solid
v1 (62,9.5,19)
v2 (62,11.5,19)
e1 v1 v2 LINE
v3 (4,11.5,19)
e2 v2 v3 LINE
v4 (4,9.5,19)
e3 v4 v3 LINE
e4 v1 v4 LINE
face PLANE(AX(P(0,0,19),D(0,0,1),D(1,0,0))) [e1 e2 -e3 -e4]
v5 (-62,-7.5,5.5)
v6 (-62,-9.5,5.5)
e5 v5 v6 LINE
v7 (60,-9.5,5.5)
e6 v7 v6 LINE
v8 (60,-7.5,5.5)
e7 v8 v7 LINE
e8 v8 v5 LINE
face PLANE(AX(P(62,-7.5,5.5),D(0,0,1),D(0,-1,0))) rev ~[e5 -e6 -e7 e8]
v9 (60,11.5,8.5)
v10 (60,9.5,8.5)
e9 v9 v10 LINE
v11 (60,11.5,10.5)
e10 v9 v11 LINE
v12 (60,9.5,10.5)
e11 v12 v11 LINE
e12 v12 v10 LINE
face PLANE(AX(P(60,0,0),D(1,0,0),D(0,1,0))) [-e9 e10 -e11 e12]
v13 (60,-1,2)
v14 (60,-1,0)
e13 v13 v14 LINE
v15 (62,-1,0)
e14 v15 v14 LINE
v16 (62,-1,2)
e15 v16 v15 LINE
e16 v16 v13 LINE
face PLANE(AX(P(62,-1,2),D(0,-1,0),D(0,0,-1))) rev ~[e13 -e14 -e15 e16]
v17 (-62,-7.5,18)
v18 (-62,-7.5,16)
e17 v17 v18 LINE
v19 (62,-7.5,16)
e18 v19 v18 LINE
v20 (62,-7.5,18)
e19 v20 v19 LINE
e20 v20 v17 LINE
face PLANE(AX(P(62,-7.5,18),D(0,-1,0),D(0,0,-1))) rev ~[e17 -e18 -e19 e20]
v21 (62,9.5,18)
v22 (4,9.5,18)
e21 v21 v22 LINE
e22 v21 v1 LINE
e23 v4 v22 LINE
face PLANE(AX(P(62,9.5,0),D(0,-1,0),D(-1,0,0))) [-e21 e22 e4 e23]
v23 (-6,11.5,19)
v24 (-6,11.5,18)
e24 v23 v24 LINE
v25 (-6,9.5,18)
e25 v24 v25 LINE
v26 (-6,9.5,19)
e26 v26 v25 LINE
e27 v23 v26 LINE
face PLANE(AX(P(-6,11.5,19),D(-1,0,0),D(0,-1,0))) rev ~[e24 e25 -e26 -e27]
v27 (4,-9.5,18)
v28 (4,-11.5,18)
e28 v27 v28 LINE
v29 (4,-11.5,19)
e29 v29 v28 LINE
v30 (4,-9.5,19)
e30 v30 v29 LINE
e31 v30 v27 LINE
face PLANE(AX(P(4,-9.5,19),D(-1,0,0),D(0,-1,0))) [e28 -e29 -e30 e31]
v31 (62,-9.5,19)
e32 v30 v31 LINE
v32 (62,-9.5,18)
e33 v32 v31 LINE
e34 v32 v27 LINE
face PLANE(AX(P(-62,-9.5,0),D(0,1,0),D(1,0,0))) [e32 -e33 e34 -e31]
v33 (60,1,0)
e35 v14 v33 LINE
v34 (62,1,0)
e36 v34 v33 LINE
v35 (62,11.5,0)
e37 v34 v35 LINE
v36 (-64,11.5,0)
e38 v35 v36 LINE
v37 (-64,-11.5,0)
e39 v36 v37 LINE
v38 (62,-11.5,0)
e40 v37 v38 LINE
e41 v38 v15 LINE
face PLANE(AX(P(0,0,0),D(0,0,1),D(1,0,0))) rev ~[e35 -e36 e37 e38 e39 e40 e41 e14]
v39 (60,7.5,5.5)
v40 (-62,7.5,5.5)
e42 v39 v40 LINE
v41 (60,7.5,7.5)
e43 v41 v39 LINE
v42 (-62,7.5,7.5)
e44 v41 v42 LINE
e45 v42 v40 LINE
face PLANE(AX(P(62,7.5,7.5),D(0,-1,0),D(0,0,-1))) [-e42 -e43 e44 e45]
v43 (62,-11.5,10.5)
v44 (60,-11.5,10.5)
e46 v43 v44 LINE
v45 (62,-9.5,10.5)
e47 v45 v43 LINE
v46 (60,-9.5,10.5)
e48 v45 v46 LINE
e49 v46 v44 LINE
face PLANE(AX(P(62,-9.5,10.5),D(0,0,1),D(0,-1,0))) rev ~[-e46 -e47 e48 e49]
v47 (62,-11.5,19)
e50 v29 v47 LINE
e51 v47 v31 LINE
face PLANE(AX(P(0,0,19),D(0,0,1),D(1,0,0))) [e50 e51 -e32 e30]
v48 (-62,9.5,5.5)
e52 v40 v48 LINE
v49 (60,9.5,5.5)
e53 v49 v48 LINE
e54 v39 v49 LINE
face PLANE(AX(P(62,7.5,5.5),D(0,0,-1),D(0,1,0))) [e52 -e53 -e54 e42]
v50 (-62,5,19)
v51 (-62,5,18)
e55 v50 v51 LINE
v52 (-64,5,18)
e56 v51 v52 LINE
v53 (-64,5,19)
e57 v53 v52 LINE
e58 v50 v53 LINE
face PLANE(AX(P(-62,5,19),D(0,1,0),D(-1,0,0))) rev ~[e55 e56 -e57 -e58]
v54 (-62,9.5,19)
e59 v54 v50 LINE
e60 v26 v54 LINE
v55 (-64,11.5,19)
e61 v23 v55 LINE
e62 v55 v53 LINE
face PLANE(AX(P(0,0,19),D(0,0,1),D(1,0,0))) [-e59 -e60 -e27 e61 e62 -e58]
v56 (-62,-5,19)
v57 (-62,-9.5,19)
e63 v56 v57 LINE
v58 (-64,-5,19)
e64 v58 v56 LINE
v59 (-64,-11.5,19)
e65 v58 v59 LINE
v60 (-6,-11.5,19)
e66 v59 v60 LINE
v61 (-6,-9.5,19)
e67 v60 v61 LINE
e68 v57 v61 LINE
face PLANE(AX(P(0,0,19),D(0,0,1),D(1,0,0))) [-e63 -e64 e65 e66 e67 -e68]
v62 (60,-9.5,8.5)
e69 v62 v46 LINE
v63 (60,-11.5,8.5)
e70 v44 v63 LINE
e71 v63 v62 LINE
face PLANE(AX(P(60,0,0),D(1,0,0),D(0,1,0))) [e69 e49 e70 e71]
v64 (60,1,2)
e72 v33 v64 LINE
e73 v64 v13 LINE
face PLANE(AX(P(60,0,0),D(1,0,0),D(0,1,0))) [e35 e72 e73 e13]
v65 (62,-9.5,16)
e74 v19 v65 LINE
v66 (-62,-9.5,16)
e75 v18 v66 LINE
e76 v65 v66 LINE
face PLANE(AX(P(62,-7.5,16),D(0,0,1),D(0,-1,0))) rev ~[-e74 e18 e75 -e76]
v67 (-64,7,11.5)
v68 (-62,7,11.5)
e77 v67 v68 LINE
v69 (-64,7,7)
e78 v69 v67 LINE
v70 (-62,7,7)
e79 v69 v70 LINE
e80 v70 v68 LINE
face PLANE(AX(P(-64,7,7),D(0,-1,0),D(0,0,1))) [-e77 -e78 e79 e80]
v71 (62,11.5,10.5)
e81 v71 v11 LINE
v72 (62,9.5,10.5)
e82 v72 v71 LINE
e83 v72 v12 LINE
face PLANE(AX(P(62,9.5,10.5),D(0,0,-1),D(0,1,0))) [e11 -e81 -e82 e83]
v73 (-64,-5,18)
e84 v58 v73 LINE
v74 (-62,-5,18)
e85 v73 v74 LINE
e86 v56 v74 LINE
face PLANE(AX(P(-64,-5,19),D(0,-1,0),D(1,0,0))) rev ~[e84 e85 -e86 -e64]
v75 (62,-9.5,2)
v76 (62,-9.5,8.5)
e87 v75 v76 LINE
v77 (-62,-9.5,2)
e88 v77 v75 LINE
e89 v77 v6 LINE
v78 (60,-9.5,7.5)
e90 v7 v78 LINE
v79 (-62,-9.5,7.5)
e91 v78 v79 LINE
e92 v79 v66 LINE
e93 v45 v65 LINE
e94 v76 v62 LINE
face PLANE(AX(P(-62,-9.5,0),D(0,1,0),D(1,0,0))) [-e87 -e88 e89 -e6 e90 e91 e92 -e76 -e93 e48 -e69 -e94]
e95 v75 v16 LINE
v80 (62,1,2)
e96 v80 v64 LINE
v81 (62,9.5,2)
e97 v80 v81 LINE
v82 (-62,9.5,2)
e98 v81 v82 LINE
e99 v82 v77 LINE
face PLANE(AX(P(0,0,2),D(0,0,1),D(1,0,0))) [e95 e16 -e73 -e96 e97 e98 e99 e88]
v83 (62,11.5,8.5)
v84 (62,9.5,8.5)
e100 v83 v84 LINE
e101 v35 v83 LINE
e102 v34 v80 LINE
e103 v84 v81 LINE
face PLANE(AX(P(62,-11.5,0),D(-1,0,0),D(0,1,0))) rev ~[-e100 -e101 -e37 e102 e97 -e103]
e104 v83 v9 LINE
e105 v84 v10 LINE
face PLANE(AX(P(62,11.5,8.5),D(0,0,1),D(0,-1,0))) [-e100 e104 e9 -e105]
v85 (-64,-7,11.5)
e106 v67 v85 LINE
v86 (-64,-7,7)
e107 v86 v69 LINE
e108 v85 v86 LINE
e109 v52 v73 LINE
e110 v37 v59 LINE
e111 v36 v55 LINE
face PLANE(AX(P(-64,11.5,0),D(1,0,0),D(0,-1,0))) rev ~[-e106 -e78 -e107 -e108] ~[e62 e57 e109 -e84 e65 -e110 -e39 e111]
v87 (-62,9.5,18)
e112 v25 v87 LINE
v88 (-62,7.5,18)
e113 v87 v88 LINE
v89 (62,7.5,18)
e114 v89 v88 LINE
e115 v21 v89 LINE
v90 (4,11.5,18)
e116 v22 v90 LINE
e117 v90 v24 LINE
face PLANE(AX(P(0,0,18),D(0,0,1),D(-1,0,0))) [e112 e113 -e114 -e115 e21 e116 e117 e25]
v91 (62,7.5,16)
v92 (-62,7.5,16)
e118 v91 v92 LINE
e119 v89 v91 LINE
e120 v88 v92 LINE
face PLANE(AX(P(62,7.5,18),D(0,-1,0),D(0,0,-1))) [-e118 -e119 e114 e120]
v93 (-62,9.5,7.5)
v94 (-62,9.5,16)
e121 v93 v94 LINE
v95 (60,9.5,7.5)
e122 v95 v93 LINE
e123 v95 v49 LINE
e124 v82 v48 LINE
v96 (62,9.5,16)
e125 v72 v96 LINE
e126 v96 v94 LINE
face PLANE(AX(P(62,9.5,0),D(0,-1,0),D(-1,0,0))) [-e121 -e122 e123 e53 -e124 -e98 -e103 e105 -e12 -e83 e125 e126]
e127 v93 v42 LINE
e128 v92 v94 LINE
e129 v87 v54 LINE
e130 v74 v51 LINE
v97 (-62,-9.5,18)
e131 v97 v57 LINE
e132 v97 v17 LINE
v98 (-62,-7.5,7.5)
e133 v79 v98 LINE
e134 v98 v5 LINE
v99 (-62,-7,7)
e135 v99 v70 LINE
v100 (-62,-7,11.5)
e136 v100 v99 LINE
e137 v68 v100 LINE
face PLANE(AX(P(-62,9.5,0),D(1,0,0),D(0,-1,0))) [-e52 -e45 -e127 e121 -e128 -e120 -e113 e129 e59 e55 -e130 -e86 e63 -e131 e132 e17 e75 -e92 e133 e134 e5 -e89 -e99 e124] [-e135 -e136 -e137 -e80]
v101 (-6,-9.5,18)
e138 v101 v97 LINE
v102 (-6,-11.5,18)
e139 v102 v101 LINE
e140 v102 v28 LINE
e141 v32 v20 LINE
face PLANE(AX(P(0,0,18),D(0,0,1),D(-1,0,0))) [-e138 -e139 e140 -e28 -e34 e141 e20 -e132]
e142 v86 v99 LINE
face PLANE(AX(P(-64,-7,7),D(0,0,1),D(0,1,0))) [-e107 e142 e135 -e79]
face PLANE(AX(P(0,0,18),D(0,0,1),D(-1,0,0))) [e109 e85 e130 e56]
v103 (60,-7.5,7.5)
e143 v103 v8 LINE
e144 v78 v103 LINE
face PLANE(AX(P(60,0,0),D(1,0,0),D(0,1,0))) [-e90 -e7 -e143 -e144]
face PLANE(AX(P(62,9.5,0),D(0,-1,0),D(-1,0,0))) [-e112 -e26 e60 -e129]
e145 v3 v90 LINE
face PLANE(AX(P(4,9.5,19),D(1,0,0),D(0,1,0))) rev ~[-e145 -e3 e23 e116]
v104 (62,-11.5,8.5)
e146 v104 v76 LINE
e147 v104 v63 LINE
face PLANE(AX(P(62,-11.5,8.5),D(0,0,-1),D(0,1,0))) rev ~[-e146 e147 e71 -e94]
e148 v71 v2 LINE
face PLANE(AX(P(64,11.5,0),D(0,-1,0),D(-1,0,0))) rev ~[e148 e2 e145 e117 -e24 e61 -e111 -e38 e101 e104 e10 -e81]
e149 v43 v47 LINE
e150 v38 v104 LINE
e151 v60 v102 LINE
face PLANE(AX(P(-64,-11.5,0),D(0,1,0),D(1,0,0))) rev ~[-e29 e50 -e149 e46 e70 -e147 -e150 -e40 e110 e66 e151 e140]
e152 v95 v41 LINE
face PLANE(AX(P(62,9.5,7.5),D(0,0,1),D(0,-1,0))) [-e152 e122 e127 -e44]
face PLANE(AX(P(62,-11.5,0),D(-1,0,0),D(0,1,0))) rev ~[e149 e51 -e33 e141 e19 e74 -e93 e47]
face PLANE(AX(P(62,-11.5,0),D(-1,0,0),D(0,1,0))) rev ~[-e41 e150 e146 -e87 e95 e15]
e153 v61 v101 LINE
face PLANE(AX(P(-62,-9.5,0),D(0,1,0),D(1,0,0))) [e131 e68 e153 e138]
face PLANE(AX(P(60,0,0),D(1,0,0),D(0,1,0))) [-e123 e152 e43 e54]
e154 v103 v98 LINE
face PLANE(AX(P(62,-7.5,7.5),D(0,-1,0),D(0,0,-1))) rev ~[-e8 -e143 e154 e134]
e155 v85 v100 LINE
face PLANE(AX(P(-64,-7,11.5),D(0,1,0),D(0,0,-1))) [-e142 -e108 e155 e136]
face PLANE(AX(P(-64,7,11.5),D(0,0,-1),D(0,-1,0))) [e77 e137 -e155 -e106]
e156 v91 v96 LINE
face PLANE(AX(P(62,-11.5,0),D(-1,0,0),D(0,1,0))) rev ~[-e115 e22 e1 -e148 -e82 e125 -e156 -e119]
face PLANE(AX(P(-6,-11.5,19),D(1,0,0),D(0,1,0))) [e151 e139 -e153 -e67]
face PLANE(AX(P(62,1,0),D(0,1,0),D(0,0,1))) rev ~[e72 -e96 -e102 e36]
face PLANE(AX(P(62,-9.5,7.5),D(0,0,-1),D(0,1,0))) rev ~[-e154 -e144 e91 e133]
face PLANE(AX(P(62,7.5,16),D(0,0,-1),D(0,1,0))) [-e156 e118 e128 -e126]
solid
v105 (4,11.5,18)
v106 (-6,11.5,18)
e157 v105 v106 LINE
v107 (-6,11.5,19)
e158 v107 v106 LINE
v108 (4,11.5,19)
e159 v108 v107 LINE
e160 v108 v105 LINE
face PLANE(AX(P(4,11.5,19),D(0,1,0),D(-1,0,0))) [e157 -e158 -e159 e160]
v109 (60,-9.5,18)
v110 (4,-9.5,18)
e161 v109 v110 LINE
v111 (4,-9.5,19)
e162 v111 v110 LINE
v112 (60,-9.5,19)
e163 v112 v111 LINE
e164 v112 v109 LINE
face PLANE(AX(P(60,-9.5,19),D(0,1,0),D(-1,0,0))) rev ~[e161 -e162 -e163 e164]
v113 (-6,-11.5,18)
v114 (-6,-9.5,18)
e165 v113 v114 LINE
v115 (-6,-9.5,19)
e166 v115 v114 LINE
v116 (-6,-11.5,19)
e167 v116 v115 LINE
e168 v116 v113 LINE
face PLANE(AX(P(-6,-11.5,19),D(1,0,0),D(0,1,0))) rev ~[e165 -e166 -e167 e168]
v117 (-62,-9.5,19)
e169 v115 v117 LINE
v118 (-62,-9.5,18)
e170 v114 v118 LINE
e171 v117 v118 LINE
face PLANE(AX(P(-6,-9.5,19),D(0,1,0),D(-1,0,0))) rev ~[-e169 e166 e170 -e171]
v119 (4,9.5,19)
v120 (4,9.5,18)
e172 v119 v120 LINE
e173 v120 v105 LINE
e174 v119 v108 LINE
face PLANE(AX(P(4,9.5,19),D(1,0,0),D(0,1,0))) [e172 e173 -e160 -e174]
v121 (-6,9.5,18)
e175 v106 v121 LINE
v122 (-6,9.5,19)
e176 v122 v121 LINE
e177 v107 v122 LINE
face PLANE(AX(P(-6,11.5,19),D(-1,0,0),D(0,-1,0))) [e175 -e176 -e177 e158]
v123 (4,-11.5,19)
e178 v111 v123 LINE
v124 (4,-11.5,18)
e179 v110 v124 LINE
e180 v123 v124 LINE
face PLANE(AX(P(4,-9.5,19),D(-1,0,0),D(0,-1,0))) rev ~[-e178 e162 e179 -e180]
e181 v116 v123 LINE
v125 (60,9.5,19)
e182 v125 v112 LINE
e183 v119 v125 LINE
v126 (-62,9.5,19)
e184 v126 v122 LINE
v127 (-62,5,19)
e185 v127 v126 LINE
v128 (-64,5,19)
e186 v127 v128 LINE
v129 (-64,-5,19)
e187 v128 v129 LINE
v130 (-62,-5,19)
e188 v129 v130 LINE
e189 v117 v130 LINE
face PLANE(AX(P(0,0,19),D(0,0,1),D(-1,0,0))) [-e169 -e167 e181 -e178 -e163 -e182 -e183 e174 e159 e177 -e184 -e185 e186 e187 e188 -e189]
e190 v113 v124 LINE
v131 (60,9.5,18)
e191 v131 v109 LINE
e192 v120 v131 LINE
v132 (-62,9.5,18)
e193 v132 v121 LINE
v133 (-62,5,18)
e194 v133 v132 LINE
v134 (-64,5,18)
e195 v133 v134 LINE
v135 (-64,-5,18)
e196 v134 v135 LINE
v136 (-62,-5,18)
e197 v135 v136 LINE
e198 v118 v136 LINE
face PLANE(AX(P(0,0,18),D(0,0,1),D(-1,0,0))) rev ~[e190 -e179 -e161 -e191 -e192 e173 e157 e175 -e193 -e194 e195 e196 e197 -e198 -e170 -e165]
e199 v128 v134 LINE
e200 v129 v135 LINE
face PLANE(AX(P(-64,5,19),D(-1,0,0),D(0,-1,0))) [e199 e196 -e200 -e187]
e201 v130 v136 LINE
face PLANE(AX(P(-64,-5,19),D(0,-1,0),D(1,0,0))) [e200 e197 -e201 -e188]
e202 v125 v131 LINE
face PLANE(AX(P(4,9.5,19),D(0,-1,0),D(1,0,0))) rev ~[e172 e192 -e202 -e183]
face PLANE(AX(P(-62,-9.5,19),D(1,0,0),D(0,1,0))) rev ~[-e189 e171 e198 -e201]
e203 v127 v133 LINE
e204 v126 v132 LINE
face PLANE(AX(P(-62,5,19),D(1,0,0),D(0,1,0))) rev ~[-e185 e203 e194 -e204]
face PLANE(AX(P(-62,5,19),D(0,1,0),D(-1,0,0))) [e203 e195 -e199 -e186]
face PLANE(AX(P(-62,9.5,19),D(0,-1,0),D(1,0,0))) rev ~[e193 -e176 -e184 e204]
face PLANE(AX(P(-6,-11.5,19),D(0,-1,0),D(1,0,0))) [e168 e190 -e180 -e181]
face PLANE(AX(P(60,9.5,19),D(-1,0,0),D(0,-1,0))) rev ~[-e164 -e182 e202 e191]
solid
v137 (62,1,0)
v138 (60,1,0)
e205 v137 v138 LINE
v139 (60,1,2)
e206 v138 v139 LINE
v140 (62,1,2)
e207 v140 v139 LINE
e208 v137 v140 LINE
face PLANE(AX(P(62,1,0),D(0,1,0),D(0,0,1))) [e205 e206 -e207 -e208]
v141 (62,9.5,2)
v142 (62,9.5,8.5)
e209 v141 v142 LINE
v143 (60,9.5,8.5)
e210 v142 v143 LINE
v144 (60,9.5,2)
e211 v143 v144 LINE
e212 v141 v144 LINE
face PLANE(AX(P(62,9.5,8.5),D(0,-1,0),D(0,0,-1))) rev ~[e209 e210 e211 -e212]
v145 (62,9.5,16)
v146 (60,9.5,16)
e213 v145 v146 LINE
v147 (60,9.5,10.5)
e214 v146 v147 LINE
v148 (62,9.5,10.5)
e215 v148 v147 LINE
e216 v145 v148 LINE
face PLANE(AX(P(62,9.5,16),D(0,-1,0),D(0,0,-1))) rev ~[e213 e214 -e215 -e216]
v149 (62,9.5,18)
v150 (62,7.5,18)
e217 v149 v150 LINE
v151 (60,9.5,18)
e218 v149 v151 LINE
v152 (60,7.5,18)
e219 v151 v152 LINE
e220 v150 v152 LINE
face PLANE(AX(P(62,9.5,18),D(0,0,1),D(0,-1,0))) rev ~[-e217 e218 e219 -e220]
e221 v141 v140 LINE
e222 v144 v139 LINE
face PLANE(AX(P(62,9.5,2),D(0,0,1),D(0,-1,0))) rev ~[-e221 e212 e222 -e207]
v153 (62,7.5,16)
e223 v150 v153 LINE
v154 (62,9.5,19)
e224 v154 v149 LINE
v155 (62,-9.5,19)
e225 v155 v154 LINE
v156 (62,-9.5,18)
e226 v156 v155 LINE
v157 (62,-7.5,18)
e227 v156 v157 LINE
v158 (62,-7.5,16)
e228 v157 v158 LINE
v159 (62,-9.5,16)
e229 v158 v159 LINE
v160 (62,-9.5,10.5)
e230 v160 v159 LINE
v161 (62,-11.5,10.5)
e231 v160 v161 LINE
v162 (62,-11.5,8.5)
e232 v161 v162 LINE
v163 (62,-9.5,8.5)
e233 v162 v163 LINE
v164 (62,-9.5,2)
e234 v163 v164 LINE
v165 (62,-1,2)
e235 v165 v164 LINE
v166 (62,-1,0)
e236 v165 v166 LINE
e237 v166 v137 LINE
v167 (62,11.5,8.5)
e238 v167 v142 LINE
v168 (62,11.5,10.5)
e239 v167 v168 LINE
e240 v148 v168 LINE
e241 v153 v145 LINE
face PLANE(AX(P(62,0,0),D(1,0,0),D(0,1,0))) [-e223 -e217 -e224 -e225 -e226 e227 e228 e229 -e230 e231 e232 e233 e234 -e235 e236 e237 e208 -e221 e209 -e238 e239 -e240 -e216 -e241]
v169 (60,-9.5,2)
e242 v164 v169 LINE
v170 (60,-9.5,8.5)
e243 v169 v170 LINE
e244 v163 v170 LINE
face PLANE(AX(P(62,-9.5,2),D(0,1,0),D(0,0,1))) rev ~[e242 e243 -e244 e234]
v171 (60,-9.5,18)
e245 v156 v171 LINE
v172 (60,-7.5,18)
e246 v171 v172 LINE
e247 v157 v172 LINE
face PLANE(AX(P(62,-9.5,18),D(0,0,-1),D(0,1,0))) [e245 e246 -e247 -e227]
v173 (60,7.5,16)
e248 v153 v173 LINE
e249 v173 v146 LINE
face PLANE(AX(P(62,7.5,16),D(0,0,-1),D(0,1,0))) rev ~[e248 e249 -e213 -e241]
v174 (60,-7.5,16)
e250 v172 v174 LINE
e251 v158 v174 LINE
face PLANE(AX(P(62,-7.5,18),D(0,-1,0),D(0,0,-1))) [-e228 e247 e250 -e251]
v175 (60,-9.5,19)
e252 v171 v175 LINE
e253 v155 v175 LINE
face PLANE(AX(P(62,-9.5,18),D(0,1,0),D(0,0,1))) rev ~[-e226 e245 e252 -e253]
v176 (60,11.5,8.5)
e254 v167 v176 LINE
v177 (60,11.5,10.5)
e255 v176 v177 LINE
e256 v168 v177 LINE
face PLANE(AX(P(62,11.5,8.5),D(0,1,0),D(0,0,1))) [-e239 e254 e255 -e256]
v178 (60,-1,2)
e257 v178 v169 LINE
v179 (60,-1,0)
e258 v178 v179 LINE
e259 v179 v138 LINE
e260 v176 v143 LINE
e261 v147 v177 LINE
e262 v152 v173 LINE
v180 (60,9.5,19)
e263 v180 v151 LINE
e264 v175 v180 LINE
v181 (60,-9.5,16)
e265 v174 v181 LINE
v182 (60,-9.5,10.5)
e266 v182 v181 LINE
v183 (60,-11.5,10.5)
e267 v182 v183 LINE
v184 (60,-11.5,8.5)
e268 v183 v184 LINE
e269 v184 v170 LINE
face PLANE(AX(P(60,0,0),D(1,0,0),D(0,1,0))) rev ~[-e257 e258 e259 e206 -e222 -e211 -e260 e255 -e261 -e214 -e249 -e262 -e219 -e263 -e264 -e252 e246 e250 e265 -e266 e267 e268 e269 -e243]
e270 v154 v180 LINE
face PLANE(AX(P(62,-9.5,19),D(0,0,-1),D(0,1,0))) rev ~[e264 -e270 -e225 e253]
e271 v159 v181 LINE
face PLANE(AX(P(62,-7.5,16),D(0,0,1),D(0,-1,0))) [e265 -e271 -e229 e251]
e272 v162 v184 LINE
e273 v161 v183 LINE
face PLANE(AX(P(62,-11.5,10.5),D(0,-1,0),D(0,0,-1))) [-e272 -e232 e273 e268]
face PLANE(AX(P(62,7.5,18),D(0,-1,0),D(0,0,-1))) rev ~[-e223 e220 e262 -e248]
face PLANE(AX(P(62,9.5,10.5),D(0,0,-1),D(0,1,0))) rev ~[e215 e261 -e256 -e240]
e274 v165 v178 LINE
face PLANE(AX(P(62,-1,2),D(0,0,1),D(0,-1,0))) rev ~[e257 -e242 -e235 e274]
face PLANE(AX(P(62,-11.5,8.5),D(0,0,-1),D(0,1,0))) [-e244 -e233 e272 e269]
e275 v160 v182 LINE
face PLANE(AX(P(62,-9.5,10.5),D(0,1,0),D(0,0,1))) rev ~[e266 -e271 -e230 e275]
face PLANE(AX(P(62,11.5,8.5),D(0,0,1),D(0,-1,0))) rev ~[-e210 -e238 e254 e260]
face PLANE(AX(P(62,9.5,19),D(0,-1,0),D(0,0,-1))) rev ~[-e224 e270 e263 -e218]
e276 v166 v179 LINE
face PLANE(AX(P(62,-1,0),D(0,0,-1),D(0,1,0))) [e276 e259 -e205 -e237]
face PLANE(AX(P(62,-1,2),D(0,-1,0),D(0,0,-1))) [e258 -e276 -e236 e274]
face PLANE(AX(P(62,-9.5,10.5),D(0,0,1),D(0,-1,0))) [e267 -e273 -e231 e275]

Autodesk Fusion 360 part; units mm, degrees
sketch "Boceto1" plane through (0, 0, 0) normal (0, 0, 1) x (1, 0, 0)
  line L0 (60, 8.75) -> (-60, 8.75)
  line L1 (-60, 8.75) -> (-60, -8.75)
  line L2 (-60, -8.75) -> (60, -8.75)
  line L3 (60, -8.75) -> (60, 8.75)
  line L4 (60, 8.75) -> (-60, -8.75) construction
  line L5 (-60, 8.75) -> (60, -8.75) construction
  dimension "d1" = 120
  dimension "d2" = 17.5
sketch "Boceto2" plane through (0, 0, 0) normal (0, 0, 1) x (1, 0, 0)
  line L0 (62, 9.5) -> (-62, 9.5)
  line L1 (-62, 9.5) -> (-62, -9.5)
  line L2 (-62, -9.5) -> (62, -9.5)
  line L3 (62, -9.5) -> (62, 9.5)
  line L4 (62, 9.5) -> (-62, -9.5) construction
  line L5 (-62, 9.5) -> (62, -9.5) construction
  line L6 (64, 11.5) -> (-64, 11.5)
  line L7 (-64, 11.5) -> (-64, -11.5)
  line L8 (-64, -11.5) -> (64, -11.5)
  line L9 (64, -11.5) -> (64, 11.5)
  line L10 (64, 11.5) -> (-64, -11.5) construction
  line L11 (-64, 11.5) -> (64, -11.5) construction
  dimension "d3" = 124
  dimension "d4" = 19
  dimension "d5" = 128
  dimension "d6" = 23
extrude "Extruir1" add sketch "Boceto2" along normal blind 2 contours L0 L1 L2 L3 makes body 1
extrude "Extruir2" add sketch "Boceto2" along normal blind 19 bodies 1
extrude "Extruir3" cut 1 faces at (64, -3.8333, 12.6667) along direction (-1, 0, 0) blind 2 on bodies 1 bodies 1
sketch "Boceto3" plane through (62, 0, 0) normal (1, 0, 0) x (0, 1, 0)
  line L0 (9.5, 19) -> (9.5, 2)
  line L1 (9.5, 2) -> (-9.5, 2)
  line L2 (-9.5, 2) -> (-9.5, 19)
  line L3 (-9.5, 19) -> (-11.5, 19)
  line L4 (-11.5, 19) -> (-11.5, 0)
  line L5 (-11.5, 0) -> (11.5, 0)
  line L6 (11.5, 0) -> (11.5, 19)
  line L7 (11.5, 19) -> (9.5, 19)
  line L8 (-11.5, 19) -> (11.5, 19)
  line L9 (11.5, 19) -> (11.5, 0)
  line L10 (11.5, 0) -> (-11.5, 0)
  line L11 (-11.5, 0) -> (-11.5, 19)
  line L12 (-11.5, 19) -> (-9.5, 19)
  line L13 (-9.5, 2) -> (9.5, 2)
  line L14 (9.5, 19) -> (11.5, 19)
  line L15 (-9.5, 19) -> (-9.5, 2)
  line L16 (9.5, 2) -> (9.5, 19)
  line L17 (-9.5, 7.5) -> (-7.5, 7.5)
  line L18 (-7.5, 7.5) -> (-7.5, 5.5)
  line L19 (-7.5, 5.5) -> (-9.5, 5.5)
  line L20 (-9.5, 5.5) -> (-9.5, 7.5)
  line L21 (0, 19) -> (0, 0) construction
  line L22 (-9.5, 18) -> (-7.5, 18)
  line L23 (-7.5, 18) -> (-7.5, 16)
  line L24 (-7.5, 16) -> (-9.5, 16)
  line L25 (-9.5, 16) -> (-9.5, 18)
  line L26 (9.5, 18) -> (7.5, 18)
  line L27 (7.5, 18) -> (7.5, 16)
  line L28 (7.5, 16) -> (9.5, 16)
  line L29 (9.5, 7.5) -> (7.5, 7.5)
  line L30 (7.5, 7.5) -> (7.5, 5.5)
  line L31 (7.5, 5.5) -> (9.5, 5.5)
  line L32 (-11.5, 9.5) -> (11.5, 9.5) construction
  line L33 (-9.5, 10.5) -> (-11.5, 10.5)
  line L34 (-11.5, 10.5) -> (-11.5, 8.5)
  line L35 (-11.5, 8.5) -> (-9.5, 8.5)
  line L36 (-9.5, 8.5) -> (-9.5, 10.5)
  line L37 (-9.5, 10.5) -> (-11.5, 8.5) construction
  line L38 (-11.5, 10.5) -> (-9.5, 8.5) construction
  line L39 (9.5, 10.5) -> (11.5, 10.5)
  line L40 (11.5, 10.5) -> (11.5, 8.5)
  line L41 (11.5, 8.5) -> (9.5, 8.5)
  line L42 (9.5, 8.5) -> (9.5, 10.5)
  line L43 (1, 2) -> (-1, 2)
  line L44 (-1, 2) -> (-1, 0)
  line L45 (-1, 0) -> (1, 0)
  line L46 (1, 0) -> (1, 2)
  line L47 (1, 2) -> (-1, 0) construction
  line L48 (-1, 2) -> (1, 0) construction
  point P0 (-10.5, 9.5)
  point P1 (0, 1)
  dimension "d13" = 2
  dimension "d14" = 2
  dimension "d15" = 3.5
  dimension "d16" = 2
  dimension "d17" = 2
  dimension "d18" = 1
  dimension "d30" = 2
  dimension "d31" = 2
  dimension "d32" = 2
  dimension "d33" = 2
extrude "Extruir4" add sketch "Boceto3" against normal blind 125 contours L0 L16 L26 L27 L28 | L2 L15 L22 L23 L24 L25 | L0 L16 L29 L30 L31 | L2 L15 L17 L18 L19 L20 bodies 1
sketch "Boceto4" plane through (-64, 0, 0) normal (-1, 0, 0) x (0, -1, 0)
  line L0 (-11.5, 0) -> (11.5, 0)
  line L1 (11.5, 0) -> (11.5, 19)
  line L2 (11.5, 19) -> (-11.5, 19)
  line L3 (-11.5, 19) -> (-11.5, 0)
  line L4 (-11.5, 19) -> (11.5, 19)
  line L5 (11.5, 19) -> (11.5, 0)
  line L6 (11.5, 0) -> (-11.5, 0)
  line L7 (-11.5, 0) -> (-11.5, 19)
  line L8 (-11.5, 19) -> (-9.5, 19)
  line L9 (-9.5, 19) -> (-9.5, 2)
  line L10 (-9.5, 0) -> (-11.5, 0)
  line L11 (-11.5, 0) -> (-11.5, 19)
  line L12 (-11.5, 0) -> (11.5, 0)
  line L13 (11.5, 0) -> (11.5, 2)
  line L14 (9.5, 2) -> (-9.5, 2)
  line L15 (-11.5, 2) -> (-11.5, 0)
  line L16 (11.5, 19) -> (9.5, 19)
  line L17 (9.5, 19) -> (9.5, 2)
  line L18 (9.5, 0) -> (11.5, 0)
  line L19 (11.5, 0) -> (11.5, 19)
  line L20 (-7, 11.5) -> (7, 11.5)
  line L21 (7, 11.5) -> (7, 7)
  line L22 (7, 7) -> (-7, 7)
  line L23 (-7, 7) -> (-7, 11.5)
  dimension "d21" = 2
  dimension "d22" = 2
  dimension "d23" = 2
  dimension "d24" = 14
  dimension "d25" = 4.5
  dimension "d26" = 2.5
  dimension "d27" = 5
extrude "Extruir5" cut sketch "Boceto4" against normal blind 2 contours L20 L21 L22 L23 bodies 1
extrude "Extruir6" cut sketch "Boceto3" against normal blind 2 contours L0 L6 L9 L16 L39 L40 L41 L42 | L2 L4 L11 L15 L33 L34 L35 L36 | L0 L16 L29 L30 L31 | L1 L5 L10 L13 L43 L44 L45 L46 | L2 L15 L17 L18 L19 L20 bodies 1
sketch "Boceto5" plane through (0, 0, 19) normal (0, 0, 1) x (-1, 0, 0)
  line L0 (-62, -9.5) -> (-62, -11.5)
  line L1 (-62, -11.5) -> (64, -11.5)
  line L2 (64, -11.5) -> (64, 11.5)
  line L3 (64, 11.5) -> (-62, 11.5)
  line L4 (-62, 11.5) -> (-62, 9.5)
  line L5 (-62, 9.5) -> (62, 9.5)
  line L6 (62, 9.5) -> (62, -9.5)
  line L7 (62, -9.5) -> (-62, -9.5)
  line L8 (-62, 0) -> (64, 0) construction
  line L9 (1, 11.5) -> (1, -11.5) construction
  line L10 (6, 9.5) -> (-4, 9.5)
  line L11 (-4, 9.5) -> (-4, 11.5)
  line L12 (-4, 11.5) -> (6, 11.5)
  line L13 (6, 11.5) -> (6, 9.5)
  line L14 (6, 9.5) -> (-4, 11.5) construction
  line L15 (-4, 9.5) -> (6, 11.5) construction
  line L16 (-4, -9.5) -> (-4, -11.5)
  line L17 (-4, -11.5) -> (6, -11.5)
  line L18 (6, -11.5) -> (6, -9.5)
  line L19 (6, -9.5) -> (-4, -9.5)
  line L20 (64, 5) -> (62, 5)
  line L21 (62, 5) -> (62, -5)
  line L22 (62, -5) -> (64, -5)
  line L23 (64, -5) -> (64, 5)
  line L24 (64, 5) -> (62, -5) construction
  line L25 (62, 5) -> (64, -5) construction
  line L26 (62, -9.5) -> (-60, -9.5)
  line L27 (-60, -9.5) -> (-60, 9.5)
  line L28 (-60, 9.5) -> (62, 9.5)
  line L29 (62, 9.5) -> (62, -9.5)
  line L30 (-62, 9.5) -> (-62, 1)
  point P0 (1, 10.5)
  point P1 (63, 0)
  dimension "d36" = 10
  dimension "d37" = 2
  dimension "d38" = 2
  dimension "d39" = 10
  dimension "d44" = 2
extrude "Extruir7" cut sketch "Boceto5" against normal blind 1 contours L1 L7 L16 L17 L18 L19 L26 | L3 L5 L10 L11 L12 L13 L28 | L2 L6 L20 L21 L22 L23 L29 bodies 1
extrude "Extruir8" add sketch "Boceto3" against normal blind 2 separate body contours L0 L1 L2 L8 L13 L15 L16 L17 L18 L19 L22 L23 L24 L26 L27 L28 L29 L30 L31 L36 L42 L43 | L0 L6 L9 L16 L39 L40 L41 L42 | L2 L4 L11 L15 L33 L34 L35 L36 | L0 L16 L29 L30 L31 | L1 L5 L10 L13 L43 L44 L45 L46 | L2 L15 L17 L18 L19 L20 makes body 2
extrude "Extruir9" add sketch "Boceto5" against normal blind 1 separate body contours L5 L6 L7 L10 L19 L21 L26 L27 L28 L29 | L1 L7 L16 L17 L18 L19 L26 | L3 L5 L10 L11 L12 L13 L28 | L2 L6 L20 L21 L22 L23 L29 makes body 3
